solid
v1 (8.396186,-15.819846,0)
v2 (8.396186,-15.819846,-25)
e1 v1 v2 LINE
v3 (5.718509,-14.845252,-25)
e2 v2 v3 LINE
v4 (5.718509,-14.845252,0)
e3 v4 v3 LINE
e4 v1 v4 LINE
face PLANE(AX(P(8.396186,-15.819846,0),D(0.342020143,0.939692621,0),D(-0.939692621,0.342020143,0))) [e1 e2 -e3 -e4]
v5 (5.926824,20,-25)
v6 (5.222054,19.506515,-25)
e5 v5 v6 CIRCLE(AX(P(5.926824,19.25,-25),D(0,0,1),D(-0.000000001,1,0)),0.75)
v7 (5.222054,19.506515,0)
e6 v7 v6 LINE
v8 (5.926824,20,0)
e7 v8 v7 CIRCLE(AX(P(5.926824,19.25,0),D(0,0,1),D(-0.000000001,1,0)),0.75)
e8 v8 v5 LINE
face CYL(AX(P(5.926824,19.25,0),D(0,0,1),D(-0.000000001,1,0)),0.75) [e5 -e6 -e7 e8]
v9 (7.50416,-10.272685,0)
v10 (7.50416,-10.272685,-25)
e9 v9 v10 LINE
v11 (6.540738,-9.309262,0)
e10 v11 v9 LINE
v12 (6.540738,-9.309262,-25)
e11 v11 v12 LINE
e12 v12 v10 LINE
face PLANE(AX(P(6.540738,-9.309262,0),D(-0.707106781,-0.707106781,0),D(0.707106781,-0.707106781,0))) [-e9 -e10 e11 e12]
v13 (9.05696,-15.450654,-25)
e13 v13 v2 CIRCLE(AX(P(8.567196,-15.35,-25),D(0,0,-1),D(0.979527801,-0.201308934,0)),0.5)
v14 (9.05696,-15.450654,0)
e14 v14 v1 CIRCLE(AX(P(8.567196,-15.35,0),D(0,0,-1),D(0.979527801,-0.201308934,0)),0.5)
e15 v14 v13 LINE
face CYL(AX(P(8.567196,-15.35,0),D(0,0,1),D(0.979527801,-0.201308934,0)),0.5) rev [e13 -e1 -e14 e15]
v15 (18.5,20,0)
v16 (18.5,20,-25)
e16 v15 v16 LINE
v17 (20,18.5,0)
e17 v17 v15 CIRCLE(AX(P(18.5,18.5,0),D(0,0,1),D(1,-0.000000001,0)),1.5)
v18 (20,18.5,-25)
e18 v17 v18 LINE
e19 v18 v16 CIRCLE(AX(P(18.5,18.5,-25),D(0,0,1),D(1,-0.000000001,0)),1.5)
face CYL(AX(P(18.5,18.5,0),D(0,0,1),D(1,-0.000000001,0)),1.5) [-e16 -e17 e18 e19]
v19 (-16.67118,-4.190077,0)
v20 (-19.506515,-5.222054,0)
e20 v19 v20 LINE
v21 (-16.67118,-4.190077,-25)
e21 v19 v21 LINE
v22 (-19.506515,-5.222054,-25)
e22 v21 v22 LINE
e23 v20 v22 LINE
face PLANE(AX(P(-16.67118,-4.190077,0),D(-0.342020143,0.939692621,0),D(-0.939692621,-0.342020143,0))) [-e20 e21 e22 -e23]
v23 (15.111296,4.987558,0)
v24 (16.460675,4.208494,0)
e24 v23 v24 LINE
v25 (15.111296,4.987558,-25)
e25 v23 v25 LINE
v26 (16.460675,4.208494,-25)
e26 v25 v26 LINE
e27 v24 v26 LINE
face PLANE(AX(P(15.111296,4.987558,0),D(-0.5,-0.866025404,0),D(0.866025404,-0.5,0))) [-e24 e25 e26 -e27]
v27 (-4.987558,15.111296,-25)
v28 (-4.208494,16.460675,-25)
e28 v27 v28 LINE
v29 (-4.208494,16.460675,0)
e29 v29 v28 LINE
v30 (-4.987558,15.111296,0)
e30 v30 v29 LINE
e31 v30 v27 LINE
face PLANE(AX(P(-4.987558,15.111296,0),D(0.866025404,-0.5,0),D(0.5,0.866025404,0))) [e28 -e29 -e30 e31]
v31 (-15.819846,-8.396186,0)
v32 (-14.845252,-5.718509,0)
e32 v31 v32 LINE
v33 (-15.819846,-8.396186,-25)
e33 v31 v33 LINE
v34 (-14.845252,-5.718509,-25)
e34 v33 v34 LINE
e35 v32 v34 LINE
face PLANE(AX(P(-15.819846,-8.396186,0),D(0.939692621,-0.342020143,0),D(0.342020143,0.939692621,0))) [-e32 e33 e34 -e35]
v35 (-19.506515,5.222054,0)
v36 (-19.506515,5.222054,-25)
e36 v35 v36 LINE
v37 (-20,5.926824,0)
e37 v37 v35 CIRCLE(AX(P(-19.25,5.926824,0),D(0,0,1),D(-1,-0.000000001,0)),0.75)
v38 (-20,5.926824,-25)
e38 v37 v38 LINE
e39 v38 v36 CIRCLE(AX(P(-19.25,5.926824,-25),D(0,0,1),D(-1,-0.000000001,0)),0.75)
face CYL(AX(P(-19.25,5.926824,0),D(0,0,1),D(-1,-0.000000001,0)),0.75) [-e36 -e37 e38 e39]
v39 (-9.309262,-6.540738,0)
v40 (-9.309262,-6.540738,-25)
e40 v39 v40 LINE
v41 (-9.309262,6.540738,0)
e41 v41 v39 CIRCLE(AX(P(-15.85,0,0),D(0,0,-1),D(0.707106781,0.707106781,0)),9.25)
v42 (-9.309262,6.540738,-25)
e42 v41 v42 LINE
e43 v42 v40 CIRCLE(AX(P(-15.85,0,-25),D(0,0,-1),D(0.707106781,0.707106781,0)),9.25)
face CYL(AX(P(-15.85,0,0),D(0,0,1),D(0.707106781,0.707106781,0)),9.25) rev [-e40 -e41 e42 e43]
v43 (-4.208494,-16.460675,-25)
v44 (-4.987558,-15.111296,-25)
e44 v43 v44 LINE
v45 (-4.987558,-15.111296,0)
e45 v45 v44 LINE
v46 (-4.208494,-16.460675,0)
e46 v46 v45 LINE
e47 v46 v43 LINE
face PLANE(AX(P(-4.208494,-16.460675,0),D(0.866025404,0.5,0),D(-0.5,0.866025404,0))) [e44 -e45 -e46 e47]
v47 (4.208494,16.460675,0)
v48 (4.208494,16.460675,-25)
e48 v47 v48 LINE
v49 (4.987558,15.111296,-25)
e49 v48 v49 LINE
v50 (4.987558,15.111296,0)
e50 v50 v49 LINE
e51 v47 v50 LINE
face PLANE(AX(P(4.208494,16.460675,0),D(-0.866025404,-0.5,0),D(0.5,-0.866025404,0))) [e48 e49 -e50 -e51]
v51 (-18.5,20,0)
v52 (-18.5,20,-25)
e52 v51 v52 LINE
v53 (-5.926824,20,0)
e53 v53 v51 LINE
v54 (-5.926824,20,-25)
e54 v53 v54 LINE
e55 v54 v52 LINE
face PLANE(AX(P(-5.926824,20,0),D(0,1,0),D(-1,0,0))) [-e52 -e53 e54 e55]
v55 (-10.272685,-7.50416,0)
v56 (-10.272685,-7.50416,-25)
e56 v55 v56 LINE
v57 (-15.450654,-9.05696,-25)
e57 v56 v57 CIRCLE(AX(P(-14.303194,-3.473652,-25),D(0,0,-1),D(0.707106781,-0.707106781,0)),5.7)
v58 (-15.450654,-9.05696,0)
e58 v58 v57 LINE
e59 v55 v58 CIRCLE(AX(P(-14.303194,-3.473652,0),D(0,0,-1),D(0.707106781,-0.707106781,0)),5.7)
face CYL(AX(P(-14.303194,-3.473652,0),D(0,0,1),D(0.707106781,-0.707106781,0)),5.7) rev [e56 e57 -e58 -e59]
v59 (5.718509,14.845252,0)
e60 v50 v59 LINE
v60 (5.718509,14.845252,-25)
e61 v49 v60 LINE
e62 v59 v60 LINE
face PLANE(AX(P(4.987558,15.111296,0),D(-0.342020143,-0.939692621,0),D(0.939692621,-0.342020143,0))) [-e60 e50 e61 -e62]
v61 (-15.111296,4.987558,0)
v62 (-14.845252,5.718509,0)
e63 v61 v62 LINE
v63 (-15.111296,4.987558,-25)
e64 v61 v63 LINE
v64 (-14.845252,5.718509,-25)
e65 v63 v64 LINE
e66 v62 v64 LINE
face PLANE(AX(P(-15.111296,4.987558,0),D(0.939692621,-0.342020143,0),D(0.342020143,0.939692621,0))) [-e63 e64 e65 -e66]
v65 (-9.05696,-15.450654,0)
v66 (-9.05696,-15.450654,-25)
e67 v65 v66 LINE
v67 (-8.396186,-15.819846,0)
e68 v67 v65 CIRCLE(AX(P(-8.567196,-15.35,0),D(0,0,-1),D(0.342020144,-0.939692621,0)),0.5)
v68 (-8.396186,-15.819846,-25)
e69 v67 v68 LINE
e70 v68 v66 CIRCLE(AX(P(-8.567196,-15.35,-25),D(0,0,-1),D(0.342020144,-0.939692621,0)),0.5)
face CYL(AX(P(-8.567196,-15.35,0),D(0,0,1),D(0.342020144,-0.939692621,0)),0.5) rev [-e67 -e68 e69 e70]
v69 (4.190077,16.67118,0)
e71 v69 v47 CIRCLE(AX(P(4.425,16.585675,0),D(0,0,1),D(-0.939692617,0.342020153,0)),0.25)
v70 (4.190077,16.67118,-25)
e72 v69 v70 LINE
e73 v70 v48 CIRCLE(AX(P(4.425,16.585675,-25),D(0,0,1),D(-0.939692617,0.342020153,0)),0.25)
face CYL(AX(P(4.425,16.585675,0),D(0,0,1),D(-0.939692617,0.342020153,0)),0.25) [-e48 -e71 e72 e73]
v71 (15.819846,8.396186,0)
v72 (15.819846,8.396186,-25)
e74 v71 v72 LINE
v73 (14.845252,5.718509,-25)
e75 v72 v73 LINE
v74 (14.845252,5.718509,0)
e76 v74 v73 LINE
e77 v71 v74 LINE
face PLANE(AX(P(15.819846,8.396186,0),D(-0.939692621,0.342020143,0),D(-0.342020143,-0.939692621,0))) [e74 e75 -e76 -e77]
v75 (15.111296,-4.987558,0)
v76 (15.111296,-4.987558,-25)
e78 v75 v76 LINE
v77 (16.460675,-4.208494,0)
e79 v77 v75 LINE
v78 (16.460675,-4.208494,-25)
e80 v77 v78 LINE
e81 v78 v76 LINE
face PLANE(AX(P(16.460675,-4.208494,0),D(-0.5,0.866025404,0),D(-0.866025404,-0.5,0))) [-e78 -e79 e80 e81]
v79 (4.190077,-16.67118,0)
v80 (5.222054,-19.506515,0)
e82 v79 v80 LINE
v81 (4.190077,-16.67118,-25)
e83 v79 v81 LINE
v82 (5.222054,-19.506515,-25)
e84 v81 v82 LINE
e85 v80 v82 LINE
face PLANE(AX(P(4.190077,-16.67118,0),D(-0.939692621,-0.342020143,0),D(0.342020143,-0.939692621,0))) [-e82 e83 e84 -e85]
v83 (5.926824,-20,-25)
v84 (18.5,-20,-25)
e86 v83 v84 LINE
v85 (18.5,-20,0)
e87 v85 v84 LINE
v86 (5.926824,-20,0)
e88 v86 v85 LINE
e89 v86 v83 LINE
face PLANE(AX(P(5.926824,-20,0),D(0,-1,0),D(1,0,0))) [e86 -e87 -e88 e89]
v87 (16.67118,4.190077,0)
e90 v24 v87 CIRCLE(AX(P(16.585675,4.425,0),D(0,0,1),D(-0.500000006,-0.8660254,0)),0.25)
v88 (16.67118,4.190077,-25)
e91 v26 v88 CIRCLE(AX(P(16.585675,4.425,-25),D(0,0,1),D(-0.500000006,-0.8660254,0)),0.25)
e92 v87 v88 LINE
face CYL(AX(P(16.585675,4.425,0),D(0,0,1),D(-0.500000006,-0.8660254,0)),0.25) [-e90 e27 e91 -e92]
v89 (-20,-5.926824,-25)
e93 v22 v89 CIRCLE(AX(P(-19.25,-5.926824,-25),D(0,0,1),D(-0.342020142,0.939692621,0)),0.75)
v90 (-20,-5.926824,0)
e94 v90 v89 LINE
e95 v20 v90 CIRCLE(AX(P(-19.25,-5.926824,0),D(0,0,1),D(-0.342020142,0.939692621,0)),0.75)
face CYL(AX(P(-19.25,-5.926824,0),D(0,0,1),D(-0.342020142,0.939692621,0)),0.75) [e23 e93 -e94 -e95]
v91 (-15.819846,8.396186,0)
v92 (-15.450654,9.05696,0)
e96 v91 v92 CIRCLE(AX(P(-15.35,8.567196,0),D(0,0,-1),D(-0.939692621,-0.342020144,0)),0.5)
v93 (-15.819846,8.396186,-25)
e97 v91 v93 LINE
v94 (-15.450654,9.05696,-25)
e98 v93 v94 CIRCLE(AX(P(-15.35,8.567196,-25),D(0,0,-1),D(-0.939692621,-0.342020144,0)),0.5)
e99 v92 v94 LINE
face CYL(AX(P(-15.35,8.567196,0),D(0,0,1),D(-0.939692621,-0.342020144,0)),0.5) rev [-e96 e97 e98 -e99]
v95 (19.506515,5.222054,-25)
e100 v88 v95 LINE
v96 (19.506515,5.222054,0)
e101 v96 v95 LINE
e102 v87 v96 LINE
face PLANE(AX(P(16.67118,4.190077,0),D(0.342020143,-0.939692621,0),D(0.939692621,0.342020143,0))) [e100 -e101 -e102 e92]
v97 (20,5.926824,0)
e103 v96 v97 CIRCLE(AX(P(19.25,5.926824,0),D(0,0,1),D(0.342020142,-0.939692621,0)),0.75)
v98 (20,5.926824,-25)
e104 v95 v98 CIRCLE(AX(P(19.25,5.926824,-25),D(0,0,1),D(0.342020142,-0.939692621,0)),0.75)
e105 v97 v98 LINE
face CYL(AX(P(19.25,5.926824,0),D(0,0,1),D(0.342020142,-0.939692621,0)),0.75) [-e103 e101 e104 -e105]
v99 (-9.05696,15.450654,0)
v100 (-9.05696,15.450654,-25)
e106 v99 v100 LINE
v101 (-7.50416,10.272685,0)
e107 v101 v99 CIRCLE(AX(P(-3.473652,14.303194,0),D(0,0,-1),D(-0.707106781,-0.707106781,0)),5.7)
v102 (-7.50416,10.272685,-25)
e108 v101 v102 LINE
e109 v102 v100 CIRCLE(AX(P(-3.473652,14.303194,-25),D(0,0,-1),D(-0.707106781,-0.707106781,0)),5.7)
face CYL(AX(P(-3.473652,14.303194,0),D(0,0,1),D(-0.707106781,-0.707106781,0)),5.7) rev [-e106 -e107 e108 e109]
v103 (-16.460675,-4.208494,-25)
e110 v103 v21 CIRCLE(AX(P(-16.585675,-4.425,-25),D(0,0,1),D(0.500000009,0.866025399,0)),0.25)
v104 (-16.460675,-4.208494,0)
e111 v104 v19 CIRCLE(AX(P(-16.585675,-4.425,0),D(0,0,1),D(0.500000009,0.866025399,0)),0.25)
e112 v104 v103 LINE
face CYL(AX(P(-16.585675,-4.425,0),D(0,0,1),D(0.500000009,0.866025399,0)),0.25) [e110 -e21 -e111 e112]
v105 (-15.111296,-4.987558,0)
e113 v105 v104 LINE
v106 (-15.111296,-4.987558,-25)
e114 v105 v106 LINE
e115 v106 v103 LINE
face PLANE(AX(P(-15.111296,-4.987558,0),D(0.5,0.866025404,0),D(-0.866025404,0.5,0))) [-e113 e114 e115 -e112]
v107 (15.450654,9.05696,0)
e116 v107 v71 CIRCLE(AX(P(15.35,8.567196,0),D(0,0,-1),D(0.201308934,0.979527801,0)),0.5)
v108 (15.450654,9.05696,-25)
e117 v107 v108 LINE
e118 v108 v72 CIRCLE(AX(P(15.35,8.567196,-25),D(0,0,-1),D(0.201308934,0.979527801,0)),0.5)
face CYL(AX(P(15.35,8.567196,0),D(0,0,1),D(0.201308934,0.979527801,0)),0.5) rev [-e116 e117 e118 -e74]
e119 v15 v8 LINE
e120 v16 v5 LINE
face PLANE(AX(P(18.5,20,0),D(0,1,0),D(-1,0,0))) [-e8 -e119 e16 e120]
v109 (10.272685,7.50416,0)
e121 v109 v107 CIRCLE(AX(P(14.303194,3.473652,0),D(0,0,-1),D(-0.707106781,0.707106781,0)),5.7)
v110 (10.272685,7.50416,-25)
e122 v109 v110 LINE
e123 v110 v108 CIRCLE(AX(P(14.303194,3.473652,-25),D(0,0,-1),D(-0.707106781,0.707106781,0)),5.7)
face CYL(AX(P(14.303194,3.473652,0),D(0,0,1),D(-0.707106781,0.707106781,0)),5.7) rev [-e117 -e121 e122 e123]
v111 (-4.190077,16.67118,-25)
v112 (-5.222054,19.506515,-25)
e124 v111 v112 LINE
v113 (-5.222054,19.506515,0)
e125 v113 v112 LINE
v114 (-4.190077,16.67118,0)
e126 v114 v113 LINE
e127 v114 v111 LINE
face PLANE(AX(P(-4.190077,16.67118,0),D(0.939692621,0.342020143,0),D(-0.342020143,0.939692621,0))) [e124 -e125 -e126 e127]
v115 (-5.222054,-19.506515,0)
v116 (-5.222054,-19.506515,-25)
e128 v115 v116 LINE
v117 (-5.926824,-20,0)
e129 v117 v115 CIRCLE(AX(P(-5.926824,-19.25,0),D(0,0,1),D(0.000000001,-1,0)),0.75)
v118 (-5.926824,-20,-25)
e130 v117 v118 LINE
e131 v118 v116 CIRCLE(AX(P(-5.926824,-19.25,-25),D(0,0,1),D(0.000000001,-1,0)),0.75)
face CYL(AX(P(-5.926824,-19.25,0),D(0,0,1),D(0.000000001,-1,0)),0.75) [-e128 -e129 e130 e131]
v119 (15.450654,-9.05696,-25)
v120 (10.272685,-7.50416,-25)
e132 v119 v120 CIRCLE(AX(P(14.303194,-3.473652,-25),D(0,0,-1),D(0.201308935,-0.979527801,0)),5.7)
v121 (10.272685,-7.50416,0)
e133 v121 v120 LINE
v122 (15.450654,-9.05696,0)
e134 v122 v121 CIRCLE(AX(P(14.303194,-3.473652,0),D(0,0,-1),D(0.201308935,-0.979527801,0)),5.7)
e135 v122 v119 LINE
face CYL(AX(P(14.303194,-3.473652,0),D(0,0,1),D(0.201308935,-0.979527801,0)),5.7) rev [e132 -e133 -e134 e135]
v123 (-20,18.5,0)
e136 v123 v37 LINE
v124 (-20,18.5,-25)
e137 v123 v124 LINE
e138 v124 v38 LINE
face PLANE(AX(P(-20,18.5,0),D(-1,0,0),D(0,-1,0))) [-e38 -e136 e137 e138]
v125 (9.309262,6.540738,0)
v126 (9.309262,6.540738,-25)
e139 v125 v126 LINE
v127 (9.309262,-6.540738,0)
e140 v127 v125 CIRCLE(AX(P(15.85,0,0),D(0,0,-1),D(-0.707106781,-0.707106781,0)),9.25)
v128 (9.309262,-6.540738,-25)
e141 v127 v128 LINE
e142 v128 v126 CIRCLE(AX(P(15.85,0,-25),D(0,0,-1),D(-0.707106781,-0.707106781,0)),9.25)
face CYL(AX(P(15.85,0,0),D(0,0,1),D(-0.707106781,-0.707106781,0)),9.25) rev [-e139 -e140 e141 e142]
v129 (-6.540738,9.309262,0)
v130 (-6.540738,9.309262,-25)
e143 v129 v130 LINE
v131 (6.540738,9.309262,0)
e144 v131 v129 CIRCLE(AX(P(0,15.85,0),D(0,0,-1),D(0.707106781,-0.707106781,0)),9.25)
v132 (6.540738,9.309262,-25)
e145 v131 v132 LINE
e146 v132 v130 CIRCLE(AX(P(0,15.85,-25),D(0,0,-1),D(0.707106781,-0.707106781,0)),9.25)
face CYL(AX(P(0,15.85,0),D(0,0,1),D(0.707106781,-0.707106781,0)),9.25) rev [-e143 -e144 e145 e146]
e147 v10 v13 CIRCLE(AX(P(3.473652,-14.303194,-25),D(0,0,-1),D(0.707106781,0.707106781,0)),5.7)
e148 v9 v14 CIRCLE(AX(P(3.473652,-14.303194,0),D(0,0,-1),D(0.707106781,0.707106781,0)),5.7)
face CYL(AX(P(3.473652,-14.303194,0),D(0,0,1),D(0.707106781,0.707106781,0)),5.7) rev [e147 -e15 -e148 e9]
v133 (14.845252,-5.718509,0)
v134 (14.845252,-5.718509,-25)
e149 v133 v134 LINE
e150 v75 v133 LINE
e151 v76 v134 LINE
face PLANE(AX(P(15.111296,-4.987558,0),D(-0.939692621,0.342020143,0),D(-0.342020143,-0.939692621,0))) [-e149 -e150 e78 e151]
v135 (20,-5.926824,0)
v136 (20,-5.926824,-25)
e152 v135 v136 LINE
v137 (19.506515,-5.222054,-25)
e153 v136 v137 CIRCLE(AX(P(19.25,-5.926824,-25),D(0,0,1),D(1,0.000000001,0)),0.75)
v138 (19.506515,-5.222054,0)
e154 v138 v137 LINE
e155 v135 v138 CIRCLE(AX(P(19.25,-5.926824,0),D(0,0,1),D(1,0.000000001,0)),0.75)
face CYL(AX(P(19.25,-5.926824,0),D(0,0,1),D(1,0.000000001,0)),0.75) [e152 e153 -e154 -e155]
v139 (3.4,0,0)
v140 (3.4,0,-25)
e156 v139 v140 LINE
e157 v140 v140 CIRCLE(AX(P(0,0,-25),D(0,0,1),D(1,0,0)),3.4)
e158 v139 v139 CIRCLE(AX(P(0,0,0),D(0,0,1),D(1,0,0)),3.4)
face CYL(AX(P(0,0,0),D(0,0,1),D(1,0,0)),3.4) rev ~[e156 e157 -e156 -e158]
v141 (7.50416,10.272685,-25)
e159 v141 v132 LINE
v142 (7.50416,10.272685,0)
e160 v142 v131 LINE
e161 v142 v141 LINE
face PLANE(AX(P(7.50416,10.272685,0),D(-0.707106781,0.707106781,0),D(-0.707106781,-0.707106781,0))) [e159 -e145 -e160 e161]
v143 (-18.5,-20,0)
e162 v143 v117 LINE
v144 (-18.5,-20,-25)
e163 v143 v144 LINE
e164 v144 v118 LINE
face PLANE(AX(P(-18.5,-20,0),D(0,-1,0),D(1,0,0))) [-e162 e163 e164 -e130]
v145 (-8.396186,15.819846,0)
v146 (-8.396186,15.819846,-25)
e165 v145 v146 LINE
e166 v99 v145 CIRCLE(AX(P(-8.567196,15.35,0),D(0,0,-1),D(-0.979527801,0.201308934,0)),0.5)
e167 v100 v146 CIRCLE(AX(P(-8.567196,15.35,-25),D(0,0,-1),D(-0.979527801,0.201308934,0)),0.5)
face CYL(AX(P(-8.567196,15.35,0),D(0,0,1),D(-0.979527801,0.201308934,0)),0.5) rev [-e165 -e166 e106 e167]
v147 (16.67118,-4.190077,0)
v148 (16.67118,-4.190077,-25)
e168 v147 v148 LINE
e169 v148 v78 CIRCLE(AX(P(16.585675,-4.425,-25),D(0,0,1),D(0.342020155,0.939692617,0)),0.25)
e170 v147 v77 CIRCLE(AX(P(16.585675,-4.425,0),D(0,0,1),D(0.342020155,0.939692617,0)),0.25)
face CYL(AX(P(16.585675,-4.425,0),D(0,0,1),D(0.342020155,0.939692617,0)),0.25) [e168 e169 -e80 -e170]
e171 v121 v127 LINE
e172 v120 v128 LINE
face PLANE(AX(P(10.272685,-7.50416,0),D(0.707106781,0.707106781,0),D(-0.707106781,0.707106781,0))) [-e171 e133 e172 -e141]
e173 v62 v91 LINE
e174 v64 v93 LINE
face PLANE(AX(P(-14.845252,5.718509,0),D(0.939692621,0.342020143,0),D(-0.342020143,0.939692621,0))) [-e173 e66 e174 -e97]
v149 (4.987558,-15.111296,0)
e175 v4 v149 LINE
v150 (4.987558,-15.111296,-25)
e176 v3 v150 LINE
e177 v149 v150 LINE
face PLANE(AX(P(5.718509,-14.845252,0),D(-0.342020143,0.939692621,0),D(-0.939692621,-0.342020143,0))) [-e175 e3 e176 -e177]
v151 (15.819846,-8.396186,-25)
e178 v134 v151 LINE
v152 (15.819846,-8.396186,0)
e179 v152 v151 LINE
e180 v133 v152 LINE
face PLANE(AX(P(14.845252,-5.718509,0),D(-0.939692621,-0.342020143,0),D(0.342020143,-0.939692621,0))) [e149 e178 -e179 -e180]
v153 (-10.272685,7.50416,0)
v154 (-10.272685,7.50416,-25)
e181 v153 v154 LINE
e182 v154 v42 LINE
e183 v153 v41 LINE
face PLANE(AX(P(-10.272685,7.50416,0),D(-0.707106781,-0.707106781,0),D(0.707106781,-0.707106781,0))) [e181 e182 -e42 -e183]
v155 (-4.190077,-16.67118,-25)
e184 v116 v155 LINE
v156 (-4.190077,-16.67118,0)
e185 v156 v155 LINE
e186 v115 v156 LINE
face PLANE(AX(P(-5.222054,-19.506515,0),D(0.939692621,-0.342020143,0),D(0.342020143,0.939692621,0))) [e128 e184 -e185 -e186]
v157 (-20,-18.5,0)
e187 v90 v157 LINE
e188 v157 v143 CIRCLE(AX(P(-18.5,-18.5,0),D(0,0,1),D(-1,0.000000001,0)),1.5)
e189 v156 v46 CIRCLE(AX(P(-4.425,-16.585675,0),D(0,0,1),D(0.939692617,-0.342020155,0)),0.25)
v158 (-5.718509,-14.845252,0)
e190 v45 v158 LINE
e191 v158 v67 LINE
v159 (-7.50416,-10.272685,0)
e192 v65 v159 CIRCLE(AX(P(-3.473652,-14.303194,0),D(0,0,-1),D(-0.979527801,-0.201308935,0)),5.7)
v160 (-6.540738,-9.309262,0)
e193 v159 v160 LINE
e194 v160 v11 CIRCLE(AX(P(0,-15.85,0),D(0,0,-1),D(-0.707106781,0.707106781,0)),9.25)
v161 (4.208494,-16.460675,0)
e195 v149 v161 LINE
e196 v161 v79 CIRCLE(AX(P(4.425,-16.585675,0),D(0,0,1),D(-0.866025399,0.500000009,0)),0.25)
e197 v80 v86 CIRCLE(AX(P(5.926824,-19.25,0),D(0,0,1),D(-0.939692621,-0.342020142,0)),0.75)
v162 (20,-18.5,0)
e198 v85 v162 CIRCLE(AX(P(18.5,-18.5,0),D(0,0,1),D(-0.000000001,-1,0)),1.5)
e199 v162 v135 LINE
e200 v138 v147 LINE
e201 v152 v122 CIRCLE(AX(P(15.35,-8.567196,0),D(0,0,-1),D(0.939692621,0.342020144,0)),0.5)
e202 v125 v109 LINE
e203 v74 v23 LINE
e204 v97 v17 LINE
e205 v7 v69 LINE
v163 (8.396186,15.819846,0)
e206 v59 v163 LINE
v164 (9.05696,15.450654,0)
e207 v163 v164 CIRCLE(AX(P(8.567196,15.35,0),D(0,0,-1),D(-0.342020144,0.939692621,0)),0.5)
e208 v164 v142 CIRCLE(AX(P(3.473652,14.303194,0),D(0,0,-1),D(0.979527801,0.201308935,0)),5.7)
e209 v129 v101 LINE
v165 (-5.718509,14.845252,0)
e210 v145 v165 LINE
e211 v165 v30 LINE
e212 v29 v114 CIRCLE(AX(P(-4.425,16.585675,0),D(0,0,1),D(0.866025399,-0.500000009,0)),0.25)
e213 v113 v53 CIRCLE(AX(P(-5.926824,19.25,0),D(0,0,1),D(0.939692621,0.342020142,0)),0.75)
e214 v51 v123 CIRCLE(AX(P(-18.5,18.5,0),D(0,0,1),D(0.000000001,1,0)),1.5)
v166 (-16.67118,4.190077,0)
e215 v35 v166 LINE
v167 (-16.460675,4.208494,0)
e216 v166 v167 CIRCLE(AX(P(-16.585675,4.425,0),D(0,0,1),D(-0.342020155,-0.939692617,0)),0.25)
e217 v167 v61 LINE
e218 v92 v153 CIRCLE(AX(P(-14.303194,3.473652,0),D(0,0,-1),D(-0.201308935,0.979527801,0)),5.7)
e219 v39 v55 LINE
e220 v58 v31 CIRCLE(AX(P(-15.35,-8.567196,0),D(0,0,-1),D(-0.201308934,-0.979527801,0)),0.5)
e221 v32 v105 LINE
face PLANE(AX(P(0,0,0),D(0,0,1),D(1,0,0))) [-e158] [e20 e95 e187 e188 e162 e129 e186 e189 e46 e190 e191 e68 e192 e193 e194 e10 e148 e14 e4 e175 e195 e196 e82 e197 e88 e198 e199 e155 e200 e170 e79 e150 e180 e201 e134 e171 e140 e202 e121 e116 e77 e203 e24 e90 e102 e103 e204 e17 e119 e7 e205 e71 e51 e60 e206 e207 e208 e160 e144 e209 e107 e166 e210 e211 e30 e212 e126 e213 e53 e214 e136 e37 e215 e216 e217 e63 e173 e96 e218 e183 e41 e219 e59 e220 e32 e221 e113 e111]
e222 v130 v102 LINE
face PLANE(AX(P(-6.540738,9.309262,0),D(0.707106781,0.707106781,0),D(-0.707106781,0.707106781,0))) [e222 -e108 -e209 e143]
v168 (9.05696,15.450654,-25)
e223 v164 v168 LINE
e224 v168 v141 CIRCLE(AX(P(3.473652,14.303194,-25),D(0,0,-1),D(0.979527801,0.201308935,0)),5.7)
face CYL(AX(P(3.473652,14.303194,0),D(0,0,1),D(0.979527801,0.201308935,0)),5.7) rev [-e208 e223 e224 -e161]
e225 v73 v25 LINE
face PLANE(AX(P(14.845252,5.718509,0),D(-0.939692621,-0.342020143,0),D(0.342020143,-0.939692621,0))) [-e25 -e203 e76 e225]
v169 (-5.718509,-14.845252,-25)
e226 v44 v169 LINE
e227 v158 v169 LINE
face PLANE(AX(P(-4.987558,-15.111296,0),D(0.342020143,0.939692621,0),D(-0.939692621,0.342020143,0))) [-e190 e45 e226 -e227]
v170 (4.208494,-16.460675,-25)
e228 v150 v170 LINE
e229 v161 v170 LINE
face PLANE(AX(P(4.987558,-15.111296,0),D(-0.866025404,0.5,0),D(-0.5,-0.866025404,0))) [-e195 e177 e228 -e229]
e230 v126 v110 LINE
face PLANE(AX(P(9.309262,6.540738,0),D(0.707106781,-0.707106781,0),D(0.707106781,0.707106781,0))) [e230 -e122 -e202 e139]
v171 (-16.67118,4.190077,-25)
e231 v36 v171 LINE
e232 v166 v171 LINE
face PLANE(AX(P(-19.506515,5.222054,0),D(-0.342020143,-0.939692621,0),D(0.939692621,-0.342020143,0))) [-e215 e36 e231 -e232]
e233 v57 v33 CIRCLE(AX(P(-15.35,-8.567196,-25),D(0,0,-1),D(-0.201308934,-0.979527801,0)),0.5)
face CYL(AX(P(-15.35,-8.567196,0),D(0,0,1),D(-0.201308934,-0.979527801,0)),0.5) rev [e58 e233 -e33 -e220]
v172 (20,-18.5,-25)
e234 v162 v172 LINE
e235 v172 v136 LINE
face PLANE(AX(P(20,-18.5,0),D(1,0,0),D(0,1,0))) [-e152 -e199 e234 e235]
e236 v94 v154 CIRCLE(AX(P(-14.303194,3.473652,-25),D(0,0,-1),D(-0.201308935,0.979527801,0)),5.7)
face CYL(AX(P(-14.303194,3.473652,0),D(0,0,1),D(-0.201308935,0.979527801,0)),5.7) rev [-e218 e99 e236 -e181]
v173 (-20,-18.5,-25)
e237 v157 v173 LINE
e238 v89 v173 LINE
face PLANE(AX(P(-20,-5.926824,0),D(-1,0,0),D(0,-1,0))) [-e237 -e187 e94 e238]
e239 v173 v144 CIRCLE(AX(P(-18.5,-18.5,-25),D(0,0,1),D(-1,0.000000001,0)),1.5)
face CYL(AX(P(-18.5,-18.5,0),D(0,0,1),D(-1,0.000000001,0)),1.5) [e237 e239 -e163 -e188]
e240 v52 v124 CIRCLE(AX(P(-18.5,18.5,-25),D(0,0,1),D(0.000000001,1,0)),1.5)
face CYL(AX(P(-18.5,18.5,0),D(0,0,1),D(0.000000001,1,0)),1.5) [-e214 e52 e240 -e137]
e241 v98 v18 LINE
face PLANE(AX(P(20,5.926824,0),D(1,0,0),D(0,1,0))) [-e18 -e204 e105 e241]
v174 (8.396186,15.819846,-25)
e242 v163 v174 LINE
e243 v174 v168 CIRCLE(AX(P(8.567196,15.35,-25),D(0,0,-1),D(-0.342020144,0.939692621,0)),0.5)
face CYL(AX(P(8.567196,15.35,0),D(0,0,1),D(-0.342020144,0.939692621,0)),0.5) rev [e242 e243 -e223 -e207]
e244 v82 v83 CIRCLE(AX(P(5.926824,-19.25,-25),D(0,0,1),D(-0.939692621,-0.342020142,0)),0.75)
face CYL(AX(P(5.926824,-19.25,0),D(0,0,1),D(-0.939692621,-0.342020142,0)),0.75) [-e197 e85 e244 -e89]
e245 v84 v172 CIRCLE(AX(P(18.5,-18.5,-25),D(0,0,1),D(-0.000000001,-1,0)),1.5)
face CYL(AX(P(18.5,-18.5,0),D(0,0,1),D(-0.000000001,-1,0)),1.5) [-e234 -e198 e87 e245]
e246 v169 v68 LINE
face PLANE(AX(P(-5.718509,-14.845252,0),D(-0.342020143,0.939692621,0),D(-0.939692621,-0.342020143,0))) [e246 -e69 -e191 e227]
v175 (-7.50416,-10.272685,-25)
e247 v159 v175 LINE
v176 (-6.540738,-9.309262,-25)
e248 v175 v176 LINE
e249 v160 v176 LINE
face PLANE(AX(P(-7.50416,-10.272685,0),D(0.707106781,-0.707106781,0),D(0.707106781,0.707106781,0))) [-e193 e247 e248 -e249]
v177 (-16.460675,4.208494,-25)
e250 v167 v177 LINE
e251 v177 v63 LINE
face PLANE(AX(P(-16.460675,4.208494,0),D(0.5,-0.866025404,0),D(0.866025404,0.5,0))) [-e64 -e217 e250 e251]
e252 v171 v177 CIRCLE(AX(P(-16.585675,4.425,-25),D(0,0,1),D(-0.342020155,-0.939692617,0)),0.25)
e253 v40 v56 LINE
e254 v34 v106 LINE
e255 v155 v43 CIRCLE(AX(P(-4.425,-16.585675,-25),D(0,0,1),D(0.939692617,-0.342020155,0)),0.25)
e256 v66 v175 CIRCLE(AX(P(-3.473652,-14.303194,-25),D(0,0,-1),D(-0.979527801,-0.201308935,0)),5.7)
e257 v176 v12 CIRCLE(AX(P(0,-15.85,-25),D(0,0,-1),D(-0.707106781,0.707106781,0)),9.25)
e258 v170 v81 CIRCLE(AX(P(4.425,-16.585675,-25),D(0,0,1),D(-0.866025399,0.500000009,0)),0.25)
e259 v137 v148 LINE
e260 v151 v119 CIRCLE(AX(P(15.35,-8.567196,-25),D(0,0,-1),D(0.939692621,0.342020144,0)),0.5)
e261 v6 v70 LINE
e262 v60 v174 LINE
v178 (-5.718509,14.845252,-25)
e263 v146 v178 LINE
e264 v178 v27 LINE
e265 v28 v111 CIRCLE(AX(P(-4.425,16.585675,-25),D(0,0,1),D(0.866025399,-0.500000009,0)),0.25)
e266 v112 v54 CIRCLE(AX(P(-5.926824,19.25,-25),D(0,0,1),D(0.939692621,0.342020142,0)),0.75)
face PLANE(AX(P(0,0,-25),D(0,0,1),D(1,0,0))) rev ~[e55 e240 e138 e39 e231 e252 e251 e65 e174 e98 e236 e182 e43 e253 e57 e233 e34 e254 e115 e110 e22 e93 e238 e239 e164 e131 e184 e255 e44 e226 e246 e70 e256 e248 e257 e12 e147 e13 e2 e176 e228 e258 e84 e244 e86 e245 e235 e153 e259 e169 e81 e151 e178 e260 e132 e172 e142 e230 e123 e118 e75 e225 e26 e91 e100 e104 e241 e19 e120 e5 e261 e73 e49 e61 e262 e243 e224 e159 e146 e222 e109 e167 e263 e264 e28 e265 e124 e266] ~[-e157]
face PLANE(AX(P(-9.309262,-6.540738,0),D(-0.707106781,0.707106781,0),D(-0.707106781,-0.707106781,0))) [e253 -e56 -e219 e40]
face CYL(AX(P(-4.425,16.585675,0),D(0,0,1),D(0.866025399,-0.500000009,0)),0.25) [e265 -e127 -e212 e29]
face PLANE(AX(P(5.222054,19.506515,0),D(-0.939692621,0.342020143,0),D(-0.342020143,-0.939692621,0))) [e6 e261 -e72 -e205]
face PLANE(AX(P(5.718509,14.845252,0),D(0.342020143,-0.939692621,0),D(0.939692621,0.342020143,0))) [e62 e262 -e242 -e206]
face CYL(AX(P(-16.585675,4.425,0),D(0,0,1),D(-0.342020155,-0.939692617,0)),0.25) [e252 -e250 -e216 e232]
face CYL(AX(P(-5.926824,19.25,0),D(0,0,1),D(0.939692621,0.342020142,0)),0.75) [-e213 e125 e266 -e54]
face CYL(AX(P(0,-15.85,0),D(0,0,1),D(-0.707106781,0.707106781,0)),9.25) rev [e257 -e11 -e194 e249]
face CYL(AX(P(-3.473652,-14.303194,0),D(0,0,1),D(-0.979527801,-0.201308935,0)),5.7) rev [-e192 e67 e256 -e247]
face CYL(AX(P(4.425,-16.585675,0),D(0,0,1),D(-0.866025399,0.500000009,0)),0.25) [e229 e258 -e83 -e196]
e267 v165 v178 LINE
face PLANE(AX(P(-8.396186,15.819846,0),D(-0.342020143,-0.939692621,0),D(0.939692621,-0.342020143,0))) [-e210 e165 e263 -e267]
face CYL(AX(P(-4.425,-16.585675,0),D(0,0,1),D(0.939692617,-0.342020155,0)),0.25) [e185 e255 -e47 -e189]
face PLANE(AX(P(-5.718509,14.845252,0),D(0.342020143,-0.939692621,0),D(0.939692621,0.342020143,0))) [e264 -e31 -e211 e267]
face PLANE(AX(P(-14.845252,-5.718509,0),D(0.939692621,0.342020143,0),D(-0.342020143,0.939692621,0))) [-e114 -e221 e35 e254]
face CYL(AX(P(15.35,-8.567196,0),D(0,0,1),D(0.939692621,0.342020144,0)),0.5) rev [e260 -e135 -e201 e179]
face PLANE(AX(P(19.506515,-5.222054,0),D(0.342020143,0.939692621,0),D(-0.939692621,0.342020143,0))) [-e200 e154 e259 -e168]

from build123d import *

# Parameters (mm, degrees)
SK_MAIN_EXTRUSION_R  = 3.4
MAIN_EXTRUSION_DEPTH = 25


with BuildPart() as part:
    # Sk Main Extrusion → Main Extrusion (new body)
    with BuildSketch(Plane.XY):
        with BuildLine():
            Line((4.190076845, -16.671180212), (5.222054351, -19.506515107))
            ThreePointArc((5.222054351, -19.506515107), (5.496641489, -19.864364033), (5.926823816, -20))
            Line((5.926823816, -20), (18.5, -20))
            ThreePointArc((18.5, -20), (19.560660172, -19.560660172), (20, -18.5))
            Line((20, -18.5), (20, -5.926823816))
            ThreePointArc((20, -5.926823816), (19.864364033, -5.496641489), (19.506515107, -5.222054351))
            Line((19.506515107, -5.222054351), (16.671180212, -4.190076845))
            ThreePointArc((16.671180212, -4.190076845), (16.563886241, -4.175951325), (16.460675177, -4.208493649))
            Line((16.460675177, -4.208493649), (15.111296024, -4.987558066))
            Line((15.111296024, -4.987558066), (14.845251581, -5.718509166))
            Line((14.845251581, -5.718509166), (15.81984631, -8.396186179))
            ThreePointArc((15.81984631, -8.396186179), (15.786489799, -8.811074612), (15.450654467, -9.056960151))
            ThreePointArc((15.450654467, -9.056960151), (12.665882372, -8.933433013), (10.272684887, -7.504160339))
            Line((10.272684887, -7.504160339), (9.309262274, -6.540737726))
            ThreePointArc((9.309262274, -6.540737726), (6.6, 0), (9.309262274, 6.540737726))
            Line((9.309262274, 6.540737726), (10.272684887, 7.504160339))
            ThreePointArc((10.272684887, 7.504160339), (12.665882372, 8.933433013), (15.450654467, 9.056960151))
            ThreePointArc((15.450654467, 9.056960151), (15.786489799, 8.811074612), (15.81984631, 8.396186179))
            Line((15.81984631, 8.396186179), (14.845251581, 5.718509166))
            Line((14.845251581, 5.718509166), (15.111296024, 4.987558066))
            Line((15.111296024, 4.987558066), (16.460675176, 4.208493649))
            ThreePointArc((16.460675176, 4.208493649), (16.563886241, 4.175951325), (16.671180212, 4.190076845))
            Line((16.671180212, 4.190076845), (19.506515107, 5.222054351))
            ThreePointArc((19.506515107, 5.222054351), (19.864364033, 5.496641489), (20, 5.926823816))
            Line((20, 5.926823816), (20, 18.5))
            ThreePointArc((20, 18.5), (19.560660172, 19.560660172), (18.5, 20))
            Line((18.5, 20), (5.926823816, 20))
            ThreePointArc((5.926823816, 20), (5.496641489, 19.864364033), (5.222054351, 19.506515107))
            Line((5.222054351, 19.506515107), (4.190076845, 16.671180212))
            ThreePointArc((4.190076845, 16.671180212), (4.175951325, 16.563886241), (4.208493649, 16.460675176))
            Line((4.208493649, 16.460675176), (4.987558066, 15.111296024))
            Line((4.987558066, 15.111296024), (5.718509166, 14.845251581))
            Line((5.718509166, 14.845251581), (8.396186179, 15.81984631))
            ThreePointArc((8.396186179, 15.81984631), (8.811074612, 15.786489799), (9.056960151, 15.450654467))
            ThreePointArc((9.056960151, 15.450654467), (8.933433013, 12.665882372), (7.504160339, 10.272684887))
            Line((7.504160339, 10.272684887), (6.540737726, 9.309262274))
            ThreePointArc((6.540737726, 9.309262274), (0, 6.6), (-6.540737726, 9.309262274))
            Line((-6.540737726, 9.309262274), (-7.504160339, 10.272684887))
            ThreePointArc((-7.504160339, 10.272684887), (-8.933433013, 12.665882372), (-9.056960151, 15.450654467))
            ThreePointArc((-9.056960151, 15.450654467), (-8.811074612, 15.786489799), (-8.396186179, 15.81984631))
            Line((-8.396186179, 15.81984631), (-5.718509166, 14.845251581))
            Line((-5.718509166, 14.845251581), (-4.987558066, 15.111296024))
            Line((-4.987558066, 15.111296024), (-4.208493649, 16.460675177))
            ThreePointArc((-4.208493649, 16.460675177), (-4.175951325, 16.563886241), (-4.190076845, 16.671180212))
            Line((-4.190076845, 16.671180212), (-5.222054351, 19.506515107))
            ThreePointArc((-5.222054351, 19.506515107), (-5.496641489, 19.864364033), (-5.926823816, 20))
            Line((-5.926823816, 20), (-18.5, 20))
            ThreePointArc((-18.5, 20), (-19.560660172, 19.560660172), (-20, 18.5))
            Line((-20, 18.5), (-20, 5.926823816))
            ThreePointArc((-20, 5.926823816), (-19.864364033, 5.496641489), (-19.506515107, 5.222054351))
            Line((-19.506515107, 5.222054351), (-16.671180212, 4.190076845))
            ThreePointArc((-16.671180212, 4.190076845), (-16.563886241, 4.175951325), (-16.460675177, 4.208493649))
            Line((-16.460675177, 4.208493649), (-15.111296024, 4.987558066))
            Line((-15.111296024, 4.987558066), (-14.845251581, 5.718509166))
            Line((-14.845251581, 5.718509166), (-15.81984631, 8.396186179))
            ThreePointArc((-15.81984631, 8.396186179), (-15.786489799, 8.811074612), (-15.450654467, 9.056960151))
            ThreePointArc((-15.450654467, 9.056960151), (-12.665882372, 8.933433013), (-10.272684887, 7.504160339))
            Line((-10.272684887, 7.504160339), (-9.309262274, 6.540737726))
            ThreePointArc((-9.309262274, 6.540737726), (-6.6, 0), (-9.309262274, -6.540737726))
            Line((-9.309262274, -6.540737726), (-10.272684887, -7.504160339))
            ThreePointArc((-10.272684887, -7.504160339), (-12.665882372, -8.933433013), (-15.450654467, -9.056960151))
            ThreePointArc((-15.450654467, -9.056960151), (-15.786489799, -8.811074612), (-15.81984631, -8.396186179))
            Line((-15.81984631, -8.396186179), (-14.845251581, -5.718509166))
            Line((-14.845251581, -5.718509166), (-15.111296024, -4.987558066))
            Line((-15.111296024, -4.987558066), (-16.460675177, -4.208493649))
            ThreePointArc((-16.460675177, -4.208493649), (-16.563886241, -4.175951325), (-16.671180212, -4.190076845))
            Line((-16.671180212, -4.190076845), (-19.506515107, -5.222054351))
            ThreePointArc((-19.506515107, -5.222054351), (-19.864364033, -5.496641489), (-20, -5.926823816))
            Line((-20, -5.926823816), (-20, -18.5))
            ThreePointArc((-20, -18.5), (-19.560660172, -19.560660172), (-18.5, -20))
            Line((-18.5, -20), (-5.926823816, -20))
            ThreePointArc((-5.926823816, -20), (-5.496641489, -19.864364033), (-5.222054351, -19.506515107))
            Line((-5.222054351, -19.506515107), (-4.190076845, -16.671180212))
            ThreePointArc((-4.190076845, -16.671180212), (-4.175951325, -16.563886241), (-4.208493649, -16.460675177))
            Line((-4.208493649, -16.460675177), (-4.987558066, -15.111296024))
            Line((-4.987558066, -15.111296024), (-5.718509166, -14.845251581))
            Line((-5.718509166, -14.845251581), (-8.396186179, -15.81984631))
            ThreePointArc((-8.396186179, -15.81984631), (-8.811074612, -15.786489799), (-9.056960151, -15.450654467))
            ThreePointArc((-9.056960151, -15.450654467), (-8.933433013, -12.665882372), (-7.504160339, -10.272684887))
            Line((-7.504160339, -10.272684887), (-6.540737726, -9.309262274))
            ThreePointArc((-6.540737726, -9.309262274), (0, -6.6), (6.540737726, -9.309262274))
            Line((6.540737726, -9.309262274), (7.504160339, -10.272684887))
            ThreePointArc((7.504160339, -10.272684887), (8.933433013, -12.665882372), (9.056960151, -15.450654467))
            ThreePointArc((9.056960151, -15.450654467), (8.811074612, -15.786489799), (8.396186179, -15.81984631))
            Line((8.396186179, -15.81984631), (5.718509166, -14.845251581))
            Line((5.718509166, -14.845251581), (4.987558066, -15.111296024))
            Line((4.987558066, -15.111296024), (4.208493649, -16.460675177))
            ThreePointArc((4.208493649, -16.460675177), (4.175951325, -16.563886241), (4.190076845, -16.671180212))
        make_face()
        Circle(SK_MAIN_EXTRUSION_R, mode=Mode.SUBTRACT)
    extrude(amount=-MAIN_EXTRUSION_DEPTH)


solid = part.part
